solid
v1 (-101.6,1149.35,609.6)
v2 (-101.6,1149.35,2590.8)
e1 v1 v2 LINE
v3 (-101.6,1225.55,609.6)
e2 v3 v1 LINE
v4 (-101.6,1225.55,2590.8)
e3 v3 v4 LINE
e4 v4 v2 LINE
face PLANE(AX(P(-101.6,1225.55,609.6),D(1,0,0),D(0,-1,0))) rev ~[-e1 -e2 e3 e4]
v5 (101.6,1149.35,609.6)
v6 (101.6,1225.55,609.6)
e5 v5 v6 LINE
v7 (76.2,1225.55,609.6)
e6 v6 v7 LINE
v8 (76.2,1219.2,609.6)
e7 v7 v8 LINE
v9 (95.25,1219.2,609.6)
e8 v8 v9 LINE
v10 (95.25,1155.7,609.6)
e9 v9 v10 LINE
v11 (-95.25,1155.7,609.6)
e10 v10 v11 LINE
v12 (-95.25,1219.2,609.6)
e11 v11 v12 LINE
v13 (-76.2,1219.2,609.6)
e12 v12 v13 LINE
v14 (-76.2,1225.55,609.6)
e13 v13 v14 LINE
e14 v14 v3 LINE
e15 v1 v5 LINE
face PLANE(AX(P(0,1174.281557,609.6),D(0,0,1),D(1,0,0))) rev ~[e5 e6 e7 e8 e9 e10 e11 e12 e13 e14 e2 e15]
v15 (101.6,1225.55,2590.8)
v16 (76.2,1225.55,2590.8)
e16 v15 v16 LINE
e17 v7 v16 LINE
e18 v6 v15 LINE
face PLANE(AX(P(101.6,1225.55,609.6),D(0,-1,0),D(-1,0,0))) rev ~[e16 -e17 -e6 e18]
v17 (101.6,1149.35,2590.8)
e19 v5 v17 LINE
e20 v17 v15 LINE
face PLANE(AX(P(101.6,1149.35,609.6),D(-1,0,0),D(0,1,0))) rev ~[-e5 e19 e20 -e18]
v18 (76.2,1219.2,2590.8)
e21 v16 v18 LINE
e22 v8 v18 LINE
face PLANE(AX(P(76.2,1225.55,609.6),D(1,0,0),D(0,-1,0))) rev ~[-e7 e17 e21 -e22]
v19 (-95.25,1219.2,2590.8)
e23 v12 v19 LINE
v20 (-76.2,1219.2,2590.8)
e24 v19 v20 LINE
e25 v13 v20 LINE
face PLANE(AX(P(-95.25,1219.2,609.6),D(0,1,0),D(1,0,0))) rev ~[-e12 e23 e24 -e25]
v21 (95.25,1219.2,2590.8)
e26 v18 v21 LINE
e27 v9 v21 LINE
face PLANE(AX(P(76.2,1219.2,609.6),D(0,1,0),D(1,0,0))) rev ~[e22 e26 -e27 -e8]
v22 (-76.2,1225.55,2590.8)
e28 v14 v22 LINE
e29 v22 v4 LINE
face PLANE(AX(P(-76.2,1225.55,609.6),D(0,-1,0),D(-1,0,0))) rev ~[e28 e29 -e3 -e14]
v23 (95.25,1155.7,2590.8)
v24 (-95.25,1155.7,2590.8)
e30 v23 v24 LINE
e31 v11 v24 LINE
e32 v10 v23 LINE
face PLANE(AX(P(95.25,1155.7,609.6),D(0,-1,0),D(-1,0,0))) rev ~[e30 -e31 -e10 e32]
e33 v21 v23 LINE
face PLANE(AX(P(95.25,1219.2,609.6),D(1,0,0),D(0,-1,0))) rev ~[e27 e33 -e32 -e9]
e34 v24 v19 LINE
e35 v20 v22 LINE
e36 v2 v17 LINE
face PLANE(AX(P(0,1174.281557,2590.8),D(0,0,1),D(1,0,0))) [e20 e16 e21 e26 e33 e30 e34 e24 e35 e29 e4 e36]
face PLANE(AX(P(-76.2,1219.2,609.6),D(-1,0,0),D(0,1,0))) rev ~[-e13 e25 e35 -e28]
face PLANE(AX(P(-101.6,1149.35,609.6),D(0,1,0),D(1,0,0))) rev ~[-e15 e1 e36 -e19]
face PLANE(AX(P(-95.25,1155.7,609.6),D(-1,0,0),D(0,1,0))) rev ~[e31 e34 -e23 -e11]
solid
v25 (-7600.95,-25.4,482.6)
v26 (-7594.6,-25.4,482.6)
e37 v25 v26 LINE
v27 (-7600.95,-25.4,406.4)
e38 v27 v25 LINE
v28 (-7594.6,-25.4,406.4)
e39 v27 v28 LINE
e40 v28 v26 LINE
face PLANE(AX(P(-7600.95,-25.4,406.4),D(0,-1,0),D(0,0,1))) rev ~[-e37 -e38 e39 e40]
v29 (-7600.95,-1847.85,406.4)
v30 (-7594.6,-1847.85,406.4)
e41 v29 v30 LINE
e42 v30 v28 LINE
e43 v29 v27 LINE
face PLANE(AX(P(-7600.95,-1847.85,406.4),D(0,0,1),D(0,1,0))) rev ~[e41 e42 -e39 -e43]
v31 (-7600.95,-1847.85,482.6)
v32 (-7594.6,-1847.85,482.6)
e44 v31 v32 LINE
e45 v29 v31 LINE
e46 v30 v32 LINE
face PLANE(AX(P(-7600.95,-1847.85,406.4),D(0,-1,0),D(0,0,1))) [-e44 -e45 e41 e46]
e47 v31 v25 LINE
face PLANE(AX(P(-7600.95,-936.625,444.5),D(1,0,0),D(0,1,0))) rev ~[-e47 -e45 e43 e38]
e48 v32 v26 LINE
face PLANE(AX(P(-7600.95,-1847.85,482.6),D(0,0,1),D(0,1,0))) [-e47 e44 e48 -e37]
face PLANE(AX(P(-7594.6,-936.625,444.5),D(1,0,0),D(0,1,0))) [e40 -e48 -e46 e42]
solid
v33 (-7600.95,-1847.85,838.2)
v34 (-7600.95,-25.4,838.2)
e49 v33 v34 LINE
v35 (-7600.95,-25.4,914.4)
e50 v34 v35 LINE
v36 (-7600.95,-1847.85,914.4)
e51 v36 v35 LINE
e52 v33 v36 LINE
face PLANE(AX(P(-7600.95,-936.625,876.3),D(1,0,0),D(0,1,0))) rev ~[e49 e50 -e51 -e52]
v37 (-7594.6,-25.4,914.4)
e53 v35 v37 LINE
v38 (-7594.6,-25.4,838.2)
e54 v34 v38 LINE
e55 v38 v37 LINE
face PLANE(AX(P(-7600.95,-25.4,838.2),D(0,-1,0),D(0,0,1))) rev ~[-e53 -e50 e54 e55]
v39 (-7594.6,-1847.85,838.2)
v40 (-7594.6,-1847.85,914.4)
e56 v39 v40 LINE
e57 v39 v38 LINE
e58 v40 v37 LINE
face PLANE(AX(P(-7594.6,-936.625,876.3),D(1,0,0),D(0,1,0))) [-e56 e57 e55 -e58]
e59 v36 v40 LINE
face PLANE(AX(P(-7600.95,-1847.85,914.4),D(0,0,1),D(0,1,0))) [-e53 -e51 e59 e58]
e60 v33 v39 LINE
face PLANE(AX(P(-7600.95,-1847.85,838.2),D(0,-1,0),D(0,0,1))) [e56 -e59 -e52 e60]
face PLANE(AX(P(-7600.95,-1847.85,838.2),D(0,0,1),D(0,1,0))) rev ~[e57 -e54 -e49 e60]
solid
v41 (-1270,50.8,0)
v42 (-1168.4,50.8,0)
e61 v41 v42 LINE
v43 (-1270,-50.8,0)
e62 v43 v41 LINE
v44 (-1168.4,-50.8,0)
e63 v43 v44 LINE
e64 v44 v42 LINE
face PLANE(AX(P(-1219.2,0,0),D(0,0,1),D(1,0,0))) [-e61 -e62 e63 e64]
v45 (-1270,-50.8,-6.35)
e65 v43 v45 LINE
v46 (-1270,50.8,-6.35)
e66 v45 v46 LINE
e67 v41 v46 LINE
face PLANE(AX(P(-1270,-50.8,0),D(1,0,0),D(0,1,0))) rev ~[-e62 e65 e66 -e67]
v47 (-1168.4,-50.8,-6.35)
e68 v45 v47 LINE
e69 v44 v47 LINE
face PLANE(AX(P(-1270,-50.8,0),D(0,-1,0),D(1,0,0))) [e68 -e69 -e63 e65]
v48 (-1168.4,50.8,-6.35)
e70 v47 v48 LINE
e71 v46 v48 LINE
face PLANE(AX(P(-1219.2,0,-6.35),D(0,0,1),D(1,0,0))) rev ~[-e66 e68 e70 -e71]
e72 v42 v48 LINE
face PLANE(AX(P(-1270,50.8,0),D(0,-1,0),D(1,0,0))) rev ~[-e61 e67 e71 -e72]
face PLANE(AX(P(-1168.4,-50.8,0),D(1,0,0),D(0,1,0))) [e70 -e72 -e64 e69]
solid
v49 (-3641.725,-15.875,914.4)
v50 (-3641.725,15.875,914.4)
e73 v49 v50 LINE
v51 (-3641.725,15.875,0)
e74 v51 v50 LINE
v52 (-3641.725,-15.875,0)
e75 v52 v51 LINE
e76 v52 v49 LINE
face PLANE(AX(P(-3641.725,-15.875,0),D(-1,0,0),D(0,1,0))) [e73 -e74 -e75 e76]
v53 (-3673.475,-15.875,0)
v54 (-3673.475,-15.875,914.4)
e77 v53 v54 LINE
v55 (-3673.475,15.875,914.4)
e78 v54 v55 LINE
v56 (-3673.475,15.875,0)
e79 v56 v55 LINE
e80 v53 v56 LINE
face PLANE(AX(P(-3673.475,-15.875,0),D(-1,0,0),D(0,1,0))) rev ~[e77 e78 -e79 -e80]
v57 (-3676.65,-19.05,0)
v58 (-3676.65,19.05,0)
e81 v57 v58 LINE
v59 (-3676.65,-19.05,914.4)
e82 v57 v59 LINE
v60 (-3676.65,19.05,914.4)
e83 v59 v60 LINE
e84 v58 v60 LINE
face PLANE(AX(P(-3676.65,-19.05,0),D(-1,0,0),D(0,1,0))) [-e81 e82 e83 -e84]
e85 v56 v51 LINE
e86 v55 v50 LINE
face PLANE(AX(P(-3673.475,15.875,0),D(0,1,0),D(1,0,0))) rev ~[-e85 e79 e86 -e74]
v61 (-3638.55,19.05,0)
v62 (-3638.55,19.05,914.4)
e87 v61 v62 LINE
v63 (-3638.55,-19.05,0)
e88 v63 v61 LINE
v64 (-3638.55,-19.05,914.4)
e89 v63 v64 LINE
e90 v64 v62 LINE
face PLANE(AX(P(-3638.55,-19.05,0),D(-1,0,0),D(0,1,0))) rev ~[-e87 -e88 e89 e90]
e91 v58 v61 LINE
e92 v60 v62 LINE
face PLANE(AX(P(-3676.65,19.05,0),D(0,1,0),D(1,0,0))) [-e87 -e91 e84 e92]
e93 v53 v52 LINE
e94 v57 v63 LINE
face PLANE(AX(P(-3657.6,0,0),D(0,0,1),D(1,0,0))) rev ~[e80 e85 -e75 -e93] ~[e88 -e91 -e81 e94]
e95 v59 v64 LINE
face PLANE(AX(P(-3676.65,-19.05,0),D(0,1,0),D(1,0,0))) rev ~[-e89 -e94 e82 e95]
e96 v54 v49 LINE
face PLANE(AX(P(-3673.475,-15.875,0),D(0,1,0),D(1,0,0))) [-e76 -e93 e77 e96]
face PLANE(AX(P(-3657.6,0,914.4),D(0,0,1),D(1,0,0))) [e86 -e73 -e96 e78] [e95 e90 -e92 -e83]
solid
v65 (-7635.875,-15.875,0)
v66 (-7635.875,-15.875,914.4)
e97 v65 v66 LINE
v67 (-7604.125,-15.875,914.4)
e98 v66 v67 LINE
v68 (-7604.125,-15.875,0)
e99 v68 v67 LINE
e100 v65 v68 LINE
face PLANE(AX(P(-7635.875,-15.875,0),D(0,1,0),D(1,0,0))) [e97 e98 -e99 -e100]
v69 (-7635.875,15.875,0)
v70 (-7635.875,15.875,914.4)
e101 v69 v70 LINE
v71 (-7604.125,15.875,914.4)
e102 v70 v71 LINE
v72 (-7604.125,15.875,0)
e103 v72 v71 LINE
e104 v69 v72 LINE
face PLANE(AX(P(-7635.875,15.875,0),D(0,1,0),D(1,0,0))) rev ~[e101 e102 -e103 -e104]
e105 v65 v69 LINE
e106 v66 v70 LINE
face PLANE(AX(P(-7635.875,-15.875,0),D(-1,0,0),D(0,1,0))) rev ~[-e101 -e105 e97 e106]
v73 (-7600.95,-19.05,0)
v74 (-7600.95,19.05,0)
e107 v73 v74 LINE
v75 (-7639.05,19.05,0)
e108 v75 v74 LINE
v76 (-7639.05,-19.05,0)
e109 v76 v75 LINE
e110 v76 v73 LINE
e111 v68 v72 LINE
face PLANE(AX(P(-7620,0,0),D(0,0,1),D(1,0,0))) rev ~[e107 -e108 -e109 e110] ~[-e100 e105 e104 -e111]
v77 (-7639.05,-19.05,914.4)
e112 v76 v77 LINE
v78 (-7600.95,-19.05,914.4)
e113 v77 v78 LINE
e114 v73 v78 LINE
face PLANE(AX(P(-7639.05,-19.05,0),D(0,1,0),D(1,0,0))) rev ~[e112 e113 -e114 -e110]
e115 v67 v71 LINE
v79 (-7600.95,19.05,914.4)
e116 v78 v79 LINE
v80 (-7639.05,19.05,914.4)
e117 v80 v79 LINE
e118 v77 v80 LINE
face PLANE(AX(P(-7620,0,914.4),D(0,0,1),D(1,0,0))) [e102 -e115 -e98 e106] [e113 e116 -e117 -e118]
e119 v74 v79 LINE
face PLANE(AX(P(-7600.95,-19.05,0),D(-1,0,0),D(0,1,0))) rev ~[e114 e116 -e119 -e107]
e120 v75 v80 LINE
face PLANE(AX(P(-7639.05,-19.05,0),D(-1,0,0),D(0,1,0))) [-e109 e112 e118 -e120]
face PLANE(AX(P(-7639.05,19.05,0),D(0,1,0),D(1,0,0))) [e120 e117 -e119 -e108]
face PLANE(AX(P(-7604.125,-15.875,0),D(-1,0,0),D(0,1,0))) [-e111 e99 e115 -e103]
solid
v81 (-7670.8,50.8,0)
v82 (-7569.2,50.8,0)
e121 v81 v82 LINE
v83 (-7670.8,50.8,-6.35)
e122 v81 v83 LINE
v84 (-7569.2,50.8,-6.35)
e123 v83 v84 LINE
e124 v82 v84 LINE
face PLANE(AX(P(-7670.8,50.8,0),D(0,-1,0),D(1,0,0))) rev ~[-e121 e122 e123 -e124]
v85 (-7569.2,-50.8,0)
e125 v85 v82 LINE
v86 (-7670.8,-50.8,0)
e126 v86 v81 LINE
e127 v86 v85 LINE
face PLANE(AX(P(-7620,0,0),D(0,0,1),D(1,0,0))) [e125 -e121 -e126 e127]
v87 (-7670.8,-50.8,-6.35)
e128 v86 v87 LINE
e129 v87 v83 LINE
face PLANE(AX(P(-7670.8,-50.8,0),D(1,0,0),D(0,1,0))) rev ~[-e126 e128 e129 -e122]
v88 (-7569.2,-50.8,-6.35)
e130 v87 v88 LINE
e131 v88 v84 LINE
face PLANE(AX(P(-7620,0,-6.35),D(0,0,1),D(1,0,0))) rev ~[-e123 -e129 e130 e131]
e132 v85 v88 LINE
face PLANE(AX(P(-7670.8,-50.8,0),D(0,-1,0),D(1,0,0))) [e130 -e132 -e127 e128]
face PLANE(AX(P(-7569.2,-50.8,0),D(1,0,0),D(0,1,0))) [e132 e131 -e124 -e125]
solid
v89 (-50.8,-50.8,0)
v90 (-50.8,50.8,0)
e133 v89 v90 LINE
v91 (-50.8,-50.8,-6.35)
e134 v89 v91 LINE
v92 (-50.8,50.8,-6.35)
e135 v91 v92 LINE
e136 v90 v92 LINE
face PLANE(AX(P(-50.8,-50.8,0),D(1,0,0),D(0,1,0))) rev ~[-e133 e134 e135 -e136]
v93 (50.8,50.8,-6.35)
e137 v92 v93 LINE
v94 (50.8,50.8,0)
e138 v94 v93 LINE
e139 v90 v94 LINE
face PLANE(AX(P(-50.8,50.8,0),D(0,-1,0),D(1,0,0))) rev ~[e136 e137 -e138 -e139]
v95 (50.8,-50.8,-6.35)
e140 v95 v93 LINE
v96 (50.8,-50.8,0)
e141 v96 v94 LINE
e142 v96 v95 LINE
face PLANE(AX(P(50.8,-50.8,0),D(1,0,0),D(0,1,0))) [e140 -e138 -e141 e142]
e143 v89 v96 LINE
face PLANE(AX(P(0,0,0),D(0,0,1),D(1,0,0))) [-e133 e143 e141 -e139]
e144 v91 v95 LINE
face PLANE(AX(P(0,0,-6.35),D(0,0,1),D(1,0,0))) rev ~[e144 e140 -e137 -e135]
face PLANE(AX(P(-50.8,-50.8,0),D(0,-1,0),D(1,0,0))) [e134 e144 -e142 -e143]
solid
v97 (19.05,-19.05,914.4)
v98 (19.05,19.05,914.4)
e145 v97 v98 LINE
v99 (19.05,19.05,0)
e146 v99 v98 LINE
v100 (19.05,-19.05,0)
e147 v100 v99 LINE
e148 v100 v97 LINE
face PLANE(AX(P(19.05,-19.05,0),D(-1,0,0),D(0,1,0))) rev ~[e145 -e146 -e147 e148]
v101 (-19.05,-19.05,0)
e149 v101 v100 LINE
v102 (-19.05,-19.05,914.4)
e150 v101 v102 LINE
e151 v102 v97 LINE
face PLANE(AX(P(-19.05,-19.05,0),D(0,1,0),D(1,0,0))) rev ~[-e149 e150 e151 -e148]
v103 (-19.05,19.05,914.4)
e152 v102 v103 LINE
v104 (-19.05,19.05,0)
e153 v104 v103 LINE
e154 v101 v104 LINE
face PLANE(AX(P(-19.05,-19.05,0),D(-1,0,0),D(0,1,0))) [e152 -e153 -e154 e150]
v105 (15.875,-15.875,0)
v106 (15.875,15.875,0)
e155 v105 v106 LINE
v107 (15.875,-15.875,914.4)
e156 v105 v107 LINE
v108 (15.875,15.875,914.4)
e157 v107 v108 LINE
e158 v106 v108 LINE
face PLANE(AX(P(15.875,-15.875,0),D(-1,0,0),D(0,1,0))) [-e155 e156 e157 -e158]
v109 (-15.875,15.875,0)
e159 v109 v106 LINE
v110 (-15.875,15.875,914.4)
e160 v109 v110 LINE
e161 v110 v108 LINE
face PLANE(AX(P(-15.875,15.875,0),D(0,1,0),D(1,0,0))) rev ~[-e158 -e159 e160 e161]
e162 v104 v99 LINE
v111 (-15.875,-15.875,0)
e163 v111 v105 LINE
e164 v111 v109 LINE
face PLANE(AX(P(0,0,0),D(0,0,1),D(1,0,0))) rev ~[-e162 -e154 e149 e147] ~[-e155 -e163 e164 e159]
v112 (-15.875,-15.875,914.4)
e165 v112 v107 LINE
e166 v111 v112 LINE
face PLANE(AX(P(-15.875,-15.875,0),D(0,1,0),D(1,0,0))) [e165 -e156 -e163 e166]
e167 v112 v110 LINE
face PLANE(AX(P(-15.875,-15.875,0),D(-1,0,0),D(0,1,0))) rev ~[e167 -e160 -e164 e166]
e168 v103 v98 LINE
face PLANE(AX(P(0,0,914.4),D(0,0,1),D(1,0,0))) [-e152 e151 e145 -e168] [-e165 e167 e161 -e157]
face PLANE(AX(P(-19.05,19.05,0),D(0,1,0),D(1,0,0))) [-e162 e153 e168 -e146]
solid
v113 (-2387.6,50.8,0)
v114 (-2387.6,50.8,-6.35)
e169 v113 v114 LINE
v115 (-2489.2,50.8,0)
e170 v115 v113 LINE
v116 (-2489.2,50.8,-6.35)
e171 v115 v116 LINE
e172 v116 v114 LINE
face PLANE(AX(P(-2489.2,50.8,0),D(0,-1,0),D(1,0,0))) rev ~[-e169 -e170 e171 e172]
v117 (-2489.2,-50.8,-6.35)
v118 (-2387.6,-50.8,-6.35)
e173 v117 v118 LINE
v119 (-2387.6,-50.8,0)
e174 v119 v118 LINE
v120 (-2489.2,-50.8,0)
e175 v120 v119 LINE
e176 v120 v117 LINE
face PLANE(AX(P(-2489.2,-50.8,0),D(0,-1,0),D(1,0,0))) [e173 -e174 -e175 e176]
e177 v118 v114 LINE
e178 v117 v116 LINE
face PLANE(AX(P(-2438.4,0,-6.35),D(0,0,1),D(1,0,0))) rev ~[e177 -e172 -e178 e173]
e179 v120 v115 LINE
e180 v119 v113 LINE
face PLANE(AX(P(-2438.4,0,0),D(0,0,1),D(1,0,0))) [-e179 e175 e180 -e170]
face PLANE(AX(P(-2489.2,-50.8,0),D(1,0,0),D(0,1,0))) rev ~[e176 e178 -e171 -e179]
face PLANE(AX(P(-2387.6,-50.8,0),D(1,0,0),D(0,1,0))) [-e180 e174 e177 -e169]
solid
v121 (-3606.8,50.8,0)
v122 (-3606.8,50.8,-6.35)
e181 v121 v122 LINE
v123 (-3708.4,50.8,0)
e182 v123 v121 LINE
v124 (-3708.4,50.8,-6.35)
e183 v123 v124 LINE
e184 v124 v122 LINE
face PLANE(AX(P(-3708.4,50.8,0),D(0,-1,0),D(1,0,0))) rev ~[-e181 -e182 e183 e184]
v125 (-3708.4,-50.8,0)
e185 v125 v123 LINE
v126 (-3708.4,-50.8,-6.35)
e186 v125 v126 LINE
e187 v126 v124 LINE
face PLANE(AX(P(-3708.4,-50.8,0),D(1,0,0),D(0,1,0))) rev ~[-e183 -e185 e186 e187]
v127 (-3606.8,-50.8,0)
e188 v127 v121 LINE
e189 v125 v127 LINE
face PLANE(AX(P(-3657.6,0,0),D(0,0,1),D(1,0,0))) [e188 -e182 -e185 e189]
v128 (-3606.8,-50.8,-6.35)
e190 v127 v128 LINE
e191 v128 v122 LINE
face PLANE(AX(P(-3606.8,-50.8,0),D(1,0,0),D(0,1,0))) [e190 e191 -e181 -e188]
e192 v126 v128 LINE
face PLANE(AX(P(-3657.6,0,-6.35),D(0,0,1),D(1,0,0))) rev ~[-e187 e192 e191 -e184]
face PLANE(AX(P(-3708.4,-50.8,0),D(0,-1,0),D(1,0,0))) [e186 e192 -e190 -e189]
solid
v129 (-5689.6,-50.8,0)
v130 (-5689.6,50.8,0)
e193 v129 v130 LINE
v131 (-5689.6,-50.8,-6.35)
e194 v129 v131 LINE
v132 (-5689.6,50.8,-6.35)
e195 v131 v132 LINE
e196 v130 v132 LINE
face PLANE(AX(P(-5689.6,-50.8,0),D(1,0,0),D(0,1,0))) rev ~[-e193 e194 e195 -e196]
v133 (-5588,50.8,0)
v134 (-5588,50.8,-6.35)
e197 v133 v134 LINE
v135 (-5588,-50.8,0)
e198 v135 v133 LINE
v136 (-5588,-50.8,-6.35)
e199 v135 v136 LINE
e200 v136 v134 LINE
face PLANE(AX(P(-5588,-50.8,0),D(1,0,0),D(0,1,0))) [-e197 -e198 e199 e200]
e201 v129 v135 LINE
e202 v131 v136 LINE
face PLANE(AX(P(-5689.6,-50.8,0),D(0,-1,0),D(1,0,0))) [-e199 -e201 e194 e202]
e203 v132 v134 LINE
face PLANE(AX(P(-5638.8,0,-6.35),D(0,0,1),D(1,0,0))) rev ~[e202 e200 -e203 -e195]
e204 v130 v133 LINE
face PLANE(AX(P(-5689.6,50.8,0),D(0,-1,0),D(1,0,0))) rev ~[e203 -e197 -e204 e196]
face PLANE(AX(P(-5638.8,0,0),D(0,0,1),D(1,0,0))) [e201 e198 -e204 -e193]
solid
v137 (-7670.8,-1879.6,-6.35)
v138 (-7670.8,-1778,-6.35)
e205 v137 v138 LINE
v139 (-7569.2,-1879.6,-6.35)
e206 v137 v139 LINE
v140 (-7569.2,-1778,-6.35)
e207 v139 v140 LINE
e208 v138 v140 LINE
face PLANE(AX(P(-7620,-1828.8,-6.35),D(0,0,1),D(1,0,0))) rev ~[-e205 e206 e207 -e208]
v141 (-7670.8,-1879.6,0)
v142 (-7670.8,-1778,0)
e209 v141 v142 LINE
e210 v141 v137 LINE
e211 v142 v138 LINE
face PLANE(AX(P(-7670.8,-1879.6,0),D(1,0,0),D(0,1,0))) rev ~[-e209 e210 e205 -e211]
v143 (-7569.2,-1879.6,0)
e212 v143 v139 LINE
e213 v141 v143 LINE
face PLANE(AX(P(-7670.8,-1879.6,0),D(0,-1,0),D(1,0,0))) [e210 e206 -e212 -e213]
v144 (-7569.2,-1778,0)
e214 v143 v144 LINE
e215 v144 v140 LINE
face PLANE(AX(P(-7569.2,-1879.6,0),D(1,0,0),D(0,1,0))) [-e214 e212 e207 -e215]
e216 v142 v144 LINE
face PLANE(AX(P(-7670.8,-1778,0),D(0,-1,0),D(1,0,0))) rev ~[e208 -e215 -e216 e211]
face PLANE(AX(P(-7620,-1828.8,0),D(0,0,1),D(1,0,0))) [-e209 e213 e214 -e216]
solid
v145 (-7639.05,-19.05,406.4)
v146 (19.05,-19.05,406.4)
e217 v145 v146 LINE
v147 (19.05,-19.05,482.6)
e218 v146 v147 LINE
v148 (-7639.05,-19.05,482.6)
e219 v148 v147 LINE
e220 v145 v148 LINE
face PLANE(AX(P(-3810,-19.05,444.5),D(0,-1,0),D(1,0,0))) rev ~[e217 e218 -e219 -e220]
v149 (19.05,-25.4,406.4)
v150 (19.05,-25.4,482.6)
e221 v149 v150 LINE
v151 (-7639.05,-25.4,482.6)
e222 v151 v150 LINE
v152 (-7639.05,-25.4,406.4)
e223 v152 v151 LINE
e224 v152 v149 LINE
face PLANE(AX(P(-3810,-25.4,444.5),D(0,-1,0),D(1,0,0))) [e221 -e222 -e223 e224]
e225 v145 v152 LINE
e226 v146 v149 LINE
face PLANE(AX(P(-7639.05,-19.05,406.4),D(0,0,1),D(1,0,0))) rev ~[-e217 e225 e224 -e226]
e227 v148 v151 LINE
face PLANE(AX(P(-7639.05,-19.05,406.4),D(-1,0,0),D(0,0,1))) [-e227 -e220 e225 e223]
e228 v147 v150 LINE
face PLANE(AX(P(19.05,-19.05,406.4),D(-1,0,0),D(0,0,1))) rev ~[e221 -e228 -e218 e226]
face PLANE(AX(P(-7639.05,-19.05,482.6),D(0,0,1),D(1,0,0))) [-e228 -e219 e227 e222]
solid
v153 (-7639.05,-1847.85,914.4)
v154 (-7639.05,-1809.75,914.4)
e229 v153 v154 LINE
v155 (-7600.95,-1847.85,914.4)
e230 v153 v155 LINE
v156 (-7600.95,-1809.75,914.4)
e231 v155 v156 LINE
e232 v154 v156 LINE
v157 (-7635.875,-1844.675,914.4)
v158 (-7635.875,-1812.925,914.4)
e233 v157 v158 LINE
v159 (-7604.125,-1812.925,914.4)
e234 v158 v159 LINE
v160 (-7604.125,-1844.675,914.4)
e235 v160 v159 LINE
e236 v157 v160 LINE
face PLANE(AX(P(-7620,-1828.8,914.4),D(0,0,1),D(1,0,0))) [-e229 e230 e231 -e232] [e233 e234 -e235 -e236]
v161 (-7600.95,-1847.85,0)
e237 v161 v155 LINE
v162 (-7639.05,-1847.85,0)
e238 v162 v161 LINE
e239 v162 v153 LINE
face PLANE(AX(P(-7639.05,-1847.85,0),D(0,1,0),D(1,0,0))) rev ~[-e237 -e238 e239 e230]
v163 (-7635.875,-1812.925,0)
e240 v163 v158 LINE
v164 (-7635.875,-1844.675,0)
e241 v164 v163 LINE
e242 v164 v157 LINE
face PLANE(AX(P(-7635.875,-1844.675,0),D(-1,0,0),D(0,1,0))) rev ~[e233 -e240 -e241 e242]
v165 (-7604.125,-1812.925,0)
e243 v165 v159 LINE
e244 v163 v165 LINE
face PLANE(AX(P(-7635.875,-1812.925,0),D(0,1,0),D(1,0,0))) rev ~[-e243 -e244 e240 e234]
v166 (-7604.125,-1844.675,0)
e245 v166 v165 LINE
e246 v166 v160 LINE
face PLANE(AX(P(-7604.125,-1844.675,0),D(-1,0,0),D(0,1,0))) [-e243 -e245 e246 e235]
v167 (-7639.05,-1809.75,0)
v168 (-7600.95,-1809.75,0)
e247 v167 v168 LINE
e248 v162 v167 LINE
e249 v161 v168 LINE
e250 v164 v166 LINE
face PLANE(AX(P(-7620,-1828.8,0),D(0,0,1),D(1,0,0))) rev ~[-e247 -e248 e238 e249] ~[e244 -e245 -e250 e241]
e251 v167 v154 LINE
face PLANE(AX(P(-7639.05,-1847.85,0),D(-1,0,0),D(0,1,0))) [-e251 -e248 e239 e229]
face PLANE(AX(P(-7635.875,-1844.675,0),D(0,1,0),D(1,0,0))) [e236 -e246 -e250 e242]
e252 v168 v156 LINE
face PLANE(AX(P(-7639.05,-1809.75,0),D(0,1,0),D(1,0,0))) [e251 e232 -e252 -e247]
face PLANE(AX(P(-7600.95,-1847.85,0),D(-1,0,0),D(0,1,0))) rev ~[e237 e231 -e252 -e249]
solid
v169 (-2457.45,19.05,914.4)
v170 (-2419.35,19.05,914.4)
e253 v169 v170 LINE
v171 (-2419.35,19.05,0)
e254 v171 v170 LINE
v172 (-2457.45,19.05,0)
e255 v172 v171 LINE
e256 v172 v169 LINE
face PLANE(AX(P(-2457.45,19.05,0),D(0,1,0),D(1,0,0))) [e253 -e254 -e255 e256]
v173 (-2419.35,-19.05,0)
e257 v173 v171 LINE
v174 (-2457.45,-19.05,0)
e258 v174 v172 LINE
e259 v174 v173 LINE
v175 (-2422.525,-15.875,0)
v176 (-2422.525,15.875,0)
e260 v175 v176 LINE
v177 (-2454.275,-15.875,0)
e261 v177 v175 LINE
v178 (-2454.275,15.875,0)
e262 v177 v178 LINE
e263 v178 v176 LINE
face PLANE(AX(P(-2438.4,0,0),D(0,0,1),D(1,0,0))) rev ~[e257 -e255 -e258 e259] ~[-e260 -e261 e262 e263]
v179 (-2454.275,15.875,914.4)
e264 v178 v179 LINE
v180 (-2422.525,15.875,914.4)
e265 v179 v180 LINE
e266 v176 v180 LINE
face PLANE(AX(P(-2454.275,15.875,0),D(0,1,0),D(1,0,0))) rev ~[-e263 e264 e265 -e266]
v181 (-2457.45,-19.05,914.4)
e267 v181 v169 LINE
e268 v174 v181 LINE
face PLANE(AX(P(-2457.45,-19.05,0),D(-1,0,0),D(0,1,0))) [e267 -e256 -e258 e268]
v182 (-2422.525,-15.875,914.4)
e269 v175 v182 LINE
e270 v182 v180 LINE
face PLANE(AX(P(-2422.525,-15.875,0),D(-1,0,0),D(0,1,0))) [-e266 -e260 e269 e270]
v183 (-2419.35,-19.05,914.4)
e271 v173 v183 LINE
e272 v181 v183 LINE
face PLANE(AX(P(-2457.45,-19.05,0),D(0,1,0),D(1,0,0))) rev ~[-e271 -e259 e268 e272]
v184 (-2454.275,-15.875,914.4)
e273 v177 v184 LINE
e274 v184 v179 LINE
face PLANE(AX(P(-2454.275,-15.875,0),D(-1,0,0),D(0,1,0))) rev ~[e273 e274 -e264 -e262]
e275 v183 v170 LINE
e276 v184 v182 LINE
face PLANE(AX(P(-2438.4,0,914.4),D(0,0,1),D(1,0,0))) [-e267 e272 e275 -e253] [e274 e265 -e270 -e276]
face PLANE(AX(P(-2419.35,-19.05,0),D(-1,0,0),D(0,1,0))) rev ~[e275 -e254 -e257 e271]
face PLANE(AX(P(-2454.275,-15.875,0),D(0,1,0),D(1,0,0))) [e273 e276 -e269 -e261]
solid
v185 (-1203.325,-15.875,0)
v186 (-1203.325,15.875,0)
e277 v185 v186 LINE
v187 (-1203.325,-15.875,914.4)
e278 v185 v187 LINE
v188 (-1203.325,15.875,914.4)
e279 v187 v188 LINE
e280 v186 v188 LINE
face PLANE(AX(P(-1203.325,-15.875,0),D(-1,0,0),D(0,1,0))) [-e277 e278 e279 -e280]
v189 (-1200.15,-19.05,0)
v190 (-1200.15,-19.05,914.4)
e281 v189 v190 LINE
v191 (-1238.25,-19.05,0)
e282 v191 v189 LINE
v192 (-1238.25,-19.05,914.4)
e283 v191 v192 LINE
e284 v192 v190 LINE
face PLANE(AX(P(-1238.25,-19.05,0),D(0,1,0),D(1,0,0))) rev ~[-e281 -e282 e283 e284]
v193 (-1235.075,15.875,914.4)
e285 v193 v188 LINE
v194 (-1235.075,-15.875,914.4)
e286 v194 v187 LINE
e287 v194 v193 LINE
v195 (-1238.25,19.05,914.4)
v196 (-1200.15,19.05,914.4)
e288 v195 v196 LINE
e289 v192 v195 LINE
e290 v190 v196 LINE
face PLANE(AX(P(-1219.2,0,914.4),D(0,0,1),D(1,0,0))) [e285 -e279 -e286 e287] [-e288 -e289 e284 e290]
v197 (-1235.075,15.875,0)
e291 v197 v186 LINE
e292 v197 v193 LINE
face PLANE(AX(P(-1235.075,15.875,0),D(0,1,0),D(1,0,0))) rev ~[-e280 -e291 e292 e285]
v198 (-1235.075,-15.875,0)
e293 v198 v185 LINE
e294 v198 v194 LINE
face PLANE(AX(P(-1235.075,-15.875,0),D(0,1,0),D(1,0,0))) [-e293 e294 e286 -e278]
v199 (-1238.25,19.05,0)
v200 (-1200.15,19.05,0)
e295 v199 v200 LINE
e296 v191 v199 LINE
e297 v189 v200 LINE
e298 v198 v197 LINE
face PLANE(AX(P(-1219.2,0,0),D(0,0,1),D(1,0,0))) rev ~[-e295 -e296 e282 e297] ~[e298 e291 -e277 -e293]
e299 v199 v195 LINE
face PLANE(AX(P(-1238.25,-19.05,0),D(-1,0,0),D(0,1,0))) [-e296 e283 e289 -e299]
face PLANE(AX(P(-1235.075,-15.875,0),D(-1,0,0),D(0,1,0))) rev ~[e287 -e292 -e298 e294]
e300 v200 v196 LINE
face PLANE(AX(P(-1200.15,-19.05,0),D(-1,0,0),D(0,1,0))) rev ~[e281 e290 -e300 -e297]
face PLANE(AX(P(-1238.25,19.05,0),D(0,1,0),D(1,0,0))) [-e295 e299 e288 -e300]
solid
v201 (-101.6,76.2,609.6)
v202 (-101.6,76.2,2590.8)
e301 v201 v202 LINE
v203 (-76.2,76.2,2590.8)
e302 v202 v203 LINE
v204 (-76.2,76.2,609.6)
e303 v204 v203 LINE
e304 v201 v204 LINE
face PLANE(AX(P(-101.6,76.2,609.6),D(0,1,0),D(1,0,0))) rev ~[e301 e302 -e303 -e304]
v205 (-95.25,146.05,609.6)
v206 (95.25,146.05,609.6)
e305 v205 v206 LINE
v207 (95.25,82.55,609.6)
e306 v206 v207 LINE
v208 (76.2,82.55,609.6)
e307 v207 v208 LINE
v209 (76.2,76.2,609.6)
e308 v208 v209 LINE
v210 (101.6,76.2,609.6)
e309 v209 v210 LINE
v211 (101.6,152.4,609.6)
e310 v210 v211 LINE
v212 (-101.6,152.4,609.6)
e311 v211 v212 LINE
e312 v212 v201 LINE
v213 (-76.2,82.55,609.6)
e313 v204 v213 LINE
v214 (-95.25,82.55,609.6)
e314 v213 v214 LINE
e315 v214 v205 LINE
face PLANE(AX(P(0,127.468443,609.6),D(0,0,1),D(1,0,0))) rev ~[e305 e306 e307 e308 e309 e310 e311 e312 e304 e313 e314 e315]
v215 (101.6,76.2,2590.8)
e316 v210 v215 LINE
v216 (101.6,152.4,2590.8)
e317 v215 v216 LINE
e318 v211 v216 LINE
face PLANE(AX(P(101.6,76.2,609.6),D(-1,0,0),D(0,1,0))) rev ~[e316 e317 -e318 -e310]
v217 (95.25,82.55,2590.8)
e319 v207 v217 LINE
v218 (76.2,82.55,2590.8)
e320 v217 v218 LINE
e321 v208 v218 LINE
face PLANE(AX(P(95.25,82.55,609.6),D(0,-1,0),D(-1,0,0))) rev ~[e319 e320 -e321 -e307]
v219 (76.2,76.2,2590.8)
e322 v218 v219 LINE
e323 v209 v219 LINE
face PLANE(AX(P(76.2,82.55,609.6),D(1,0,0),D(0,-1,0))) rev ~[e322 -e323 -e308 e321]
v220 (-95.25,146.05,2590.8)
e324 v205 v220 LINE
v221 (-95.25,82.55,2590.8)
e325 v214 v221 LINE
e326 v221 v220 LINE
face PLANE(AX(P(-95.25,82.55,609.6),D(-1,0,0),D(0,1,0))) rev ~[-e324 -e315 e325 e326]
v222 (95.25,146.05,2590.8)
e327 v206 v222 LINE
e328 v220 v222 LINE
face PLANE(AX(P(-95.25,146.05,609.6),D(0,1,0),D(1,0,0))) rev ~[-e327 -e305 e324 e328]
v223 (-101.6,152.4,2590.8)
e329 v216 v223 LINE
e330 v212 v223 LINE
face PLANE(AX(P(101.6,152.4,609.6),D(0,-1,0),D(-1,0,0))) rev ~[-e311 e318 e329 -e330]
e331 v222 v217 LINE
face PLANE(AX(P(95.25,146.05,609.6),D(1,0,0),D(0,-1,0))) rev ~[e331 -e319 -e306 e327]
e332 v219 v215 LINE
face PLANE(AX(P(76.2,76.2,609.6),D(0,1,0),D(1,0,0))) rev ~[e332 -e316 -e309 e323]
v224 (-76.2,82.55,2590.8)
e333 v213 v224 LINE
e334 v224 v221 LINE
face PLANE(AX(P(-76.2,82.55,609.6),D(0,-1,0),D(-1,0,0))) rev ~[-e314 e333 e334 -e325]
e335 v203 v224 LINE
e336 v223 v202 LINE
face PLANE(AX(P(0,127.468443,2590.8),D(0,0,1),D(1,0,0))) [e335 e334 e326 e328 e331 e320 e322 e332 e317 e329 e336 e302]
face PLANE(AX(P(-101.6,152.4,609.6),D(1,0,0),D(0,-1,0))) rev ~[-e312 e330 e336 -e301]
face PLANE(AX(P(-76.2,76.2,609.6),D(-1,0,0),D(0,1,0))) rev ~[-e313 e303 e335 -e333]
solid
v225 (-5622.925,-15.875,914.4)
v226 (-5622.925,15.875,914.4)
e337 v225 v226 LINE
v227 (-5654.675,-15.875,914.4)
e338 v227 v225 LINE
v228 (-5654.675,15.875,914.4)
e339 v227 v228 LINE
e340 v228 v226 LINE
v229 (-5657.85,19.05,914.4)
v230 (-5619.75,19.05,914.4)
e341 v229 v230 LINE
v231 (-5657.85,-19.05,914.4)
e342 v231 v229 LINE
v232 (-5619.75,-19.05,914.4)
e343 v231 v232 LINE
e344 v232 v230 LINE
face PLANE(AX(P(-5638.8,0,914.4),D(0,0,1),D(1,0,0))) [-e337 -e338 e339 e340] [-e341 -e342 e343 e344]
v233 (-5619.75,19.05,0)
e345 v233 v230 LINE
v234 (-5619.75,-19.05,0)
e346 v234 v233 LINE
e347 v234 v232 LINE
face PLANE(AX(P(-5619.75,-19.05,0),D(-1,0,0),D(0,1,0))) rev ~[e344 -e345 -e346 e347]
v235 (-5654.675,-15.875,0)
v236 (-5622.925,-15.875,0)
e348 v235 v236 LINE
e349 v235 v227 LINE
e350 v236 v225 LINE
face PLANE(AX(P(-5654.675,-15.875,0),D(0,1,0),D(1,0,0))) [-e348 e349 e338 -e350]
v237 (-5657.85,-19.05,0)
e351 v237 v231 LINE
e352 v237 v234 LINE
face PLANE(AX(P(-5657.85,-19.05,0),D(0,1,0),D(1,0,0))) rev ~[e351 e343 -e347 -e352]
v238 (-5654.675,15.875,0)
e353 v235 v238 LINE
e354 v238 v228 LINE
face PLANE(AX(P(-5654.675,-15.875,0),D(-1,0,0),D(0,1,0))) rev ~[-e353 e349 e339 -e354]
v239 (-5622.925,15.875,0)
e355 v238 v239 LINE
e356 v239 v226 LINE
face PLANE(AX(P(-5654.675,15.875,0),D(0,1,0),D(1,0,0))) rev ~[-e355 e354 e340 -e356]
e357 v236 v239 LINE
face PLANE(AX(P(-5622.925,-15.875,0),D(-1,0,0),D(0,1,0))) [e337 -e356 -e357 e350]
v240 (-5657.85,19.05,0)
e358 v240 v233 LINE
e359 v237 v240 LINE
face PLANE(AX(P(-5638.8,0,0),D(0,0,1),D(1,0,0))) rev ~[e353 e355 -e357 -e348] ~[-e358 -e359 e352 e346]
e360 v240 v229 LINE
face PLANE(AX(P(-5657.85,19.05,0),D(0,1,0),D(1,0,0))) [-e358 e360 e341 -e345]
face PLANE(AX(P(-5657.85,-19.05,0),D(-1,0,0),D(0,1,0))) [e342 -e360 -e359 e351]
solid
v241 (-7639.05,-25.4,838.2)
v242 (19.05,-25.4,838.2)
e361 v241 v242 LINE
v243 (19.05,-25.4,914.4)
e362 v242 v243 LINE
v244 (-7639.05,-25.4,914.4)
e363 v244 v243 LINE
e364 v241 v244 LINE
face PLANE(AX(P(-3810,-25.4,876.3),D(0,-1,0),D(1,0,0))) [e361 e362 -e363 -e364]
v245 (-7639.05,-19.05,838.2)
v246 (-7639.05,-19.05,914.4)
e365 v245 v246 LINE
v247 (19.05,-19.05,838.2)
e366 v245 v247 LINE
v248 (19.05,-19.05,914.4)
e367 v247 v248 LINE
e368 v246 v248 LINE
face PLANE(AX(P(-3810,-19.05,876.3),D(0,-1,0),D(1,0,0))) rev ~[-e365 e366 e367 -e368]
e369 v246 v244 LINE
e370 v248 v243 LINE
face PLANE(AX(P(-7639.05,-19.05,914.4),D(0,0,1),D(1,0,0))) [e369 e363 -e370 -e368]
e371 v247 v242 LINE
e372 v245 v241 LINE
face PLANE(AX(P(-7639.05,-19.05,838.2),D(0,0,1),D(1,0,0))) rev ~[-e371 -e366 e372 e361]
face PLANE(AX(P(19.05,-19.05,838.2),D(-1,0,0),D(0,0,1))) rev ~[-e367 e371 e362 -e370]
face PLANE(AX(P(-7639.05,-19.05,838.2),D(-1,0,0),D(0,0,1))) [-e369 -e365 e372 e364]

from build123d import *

# Parameters (mm, degrees)
F3_DEPTH  = 1981.2
F0_W      = 38.1
F0_H      = 38.1
F0_W_2    = 31.75
F0_H_2    = 31.75
F4_DEPTH  = 914.4
F5_W      = 101.6
F5_H      = 101.6
F6_DEPTH  = 6.35
F8_W      = 7658.1
F8_H      = 76.2
F9_DEPTH  = 6.35
F11_W     = 1822.45
F11_H     = 76.2
F12_DEPTH = 6.35


with BuildPart() as f3:
    # F2 (on offset) → F3 (new body)
    with BuildSketch(Plane.XY.offset(609.6)):
        Polygon((-76.2, 76.2), (-76.2, 82.55), (-95.25, 82.55), (-95.25, 146.05), (95.25, 146.05), (95.25, 82.55), (76.2, 82.55), (76.2, 76.2), (101.6, 76.2), (101.6, 152.4), (-101.6, 152.4), (-101.6, 76.2), align=None)
        Polygon((101.6, 1149.35), (101.6, 1225.55), (76.2, 1225.55), (76.2, 1219.2), (95.25, 1219.2), (95.25, 1155.7), (-95.25, 1155.7), (-95.25, 1219.2), (-76.2, 1219.2), (-76.2, 1225.55), (-101.6, 1225.55), (-101.6, 1149.35), align=None)
    extrude(amount=F3_DEPTH)


with BuildPart() as f4:
    # F0 (on Top) → F4 (new body)
    with BuildSketch(Plane.XY):
        with Locations((-7620, -1828.8)):
            Rectangle(F0_W, F0_H)
        with Locations((-7620, -1828.8)):
            Rectangle(F0_W_2, F0_H_2, mode=Mode.SUBTRACT)
        with Locations((-7620, 0)):
            Rectangle(F0_W, F0_H)
        with Locations((-7620, 0)):
            Rectangle(F0_W_2, F0_H_2, mode=Mode.SUBTRACT)
        with Locations((-5638.8, 0)):
            Rectangle(F0_W, F0_H)
        with Locations((-5638.8, 0)):
            Rectangle(F0_W_2, F0_H_2, mode=Mode.SUBTRACT)
        with Locations((-3657.6, 0)):
            Rectangle(F0_W, F0_H)
        with Locations((-3657.6, 0)):
            Rectangle(F0_W_2, F0_H_2, mode=Mode.SUBTRACT)
        with Locations((-2438.4, 0)):
            Rectangle(F0_W, F0_H)
        with Locations((-2438.4, 0)):
            Rectangle(F0_W_2, F0_H_2, mode=Mode.SUBTRACT)
        with Locations((-1219.2, 0)):
            Rectangle(F0_W, F0_H)
        with Locations((-1219.2, 0)):
            Rectangle(F0_W_2, F0_H_2, mode=Mode.SUBTRACT)
        Rectangle(F0_W, F0_H)
        Rectangle(F0_W_2, F0_H_2, mode=Mode.SUBTRACT)
    extrude(amount=F4_DEPTH)


with BuildPart() as f6:
    # F5 (on Top) → F6 (new body)
    with BuildSketch(Plane.XY):
        Rectangle(F5_W, F5_H)
        with Locations((-1219.2, 0)):
            Rectangle(F5_W, F5_H)
        with Locations((-2438.4, 0)):
            Rectangle(F5_W, F5_H)
        with Locations((-3657.6, 0)):
            Rectangle(F5_W, F5_H)
        with Locations((-5638.8, 0)):
            Rectangle(F5_W, F5_H)
        with Locations((-7620, 0)):
            Rectangle(F5_W, F5_H)
        with Locations((-7620, -1828.8)):
            Rectangle(F5_W, F5_H)
    extrude(amount=-F6_DEPTH)


with BuildPart() as f9:
    # F8 (on offset) → F9 (new body)
    with BuildSketch(Plane.XZ.offset(19.05)):
        with Locations((-3810, 876.3)):
            Rectangle(F8_W, F8_H)
        with Locations((-3810, 444.5)):
            Rectangle(F8_W, F8_H)
    extrude(amount=F9_DEPTH)


with BuildPart() as f12:
    # F11 (on offset) → F12 (new body)
    with BuildSketch(Plane.YZ.offset(-7600.95)):
        with Locations((-936.625, 876.3)):
            Rectangle(F11_W, F11_H)
        with Locations((-936.625, 444.5)):
            Rectangle(F11_W, F11_H)
    extrude(amount=F12_DEPTH)


solid = Compound([f3.part, f4.part, f6.part, f9.part, f12.part])
